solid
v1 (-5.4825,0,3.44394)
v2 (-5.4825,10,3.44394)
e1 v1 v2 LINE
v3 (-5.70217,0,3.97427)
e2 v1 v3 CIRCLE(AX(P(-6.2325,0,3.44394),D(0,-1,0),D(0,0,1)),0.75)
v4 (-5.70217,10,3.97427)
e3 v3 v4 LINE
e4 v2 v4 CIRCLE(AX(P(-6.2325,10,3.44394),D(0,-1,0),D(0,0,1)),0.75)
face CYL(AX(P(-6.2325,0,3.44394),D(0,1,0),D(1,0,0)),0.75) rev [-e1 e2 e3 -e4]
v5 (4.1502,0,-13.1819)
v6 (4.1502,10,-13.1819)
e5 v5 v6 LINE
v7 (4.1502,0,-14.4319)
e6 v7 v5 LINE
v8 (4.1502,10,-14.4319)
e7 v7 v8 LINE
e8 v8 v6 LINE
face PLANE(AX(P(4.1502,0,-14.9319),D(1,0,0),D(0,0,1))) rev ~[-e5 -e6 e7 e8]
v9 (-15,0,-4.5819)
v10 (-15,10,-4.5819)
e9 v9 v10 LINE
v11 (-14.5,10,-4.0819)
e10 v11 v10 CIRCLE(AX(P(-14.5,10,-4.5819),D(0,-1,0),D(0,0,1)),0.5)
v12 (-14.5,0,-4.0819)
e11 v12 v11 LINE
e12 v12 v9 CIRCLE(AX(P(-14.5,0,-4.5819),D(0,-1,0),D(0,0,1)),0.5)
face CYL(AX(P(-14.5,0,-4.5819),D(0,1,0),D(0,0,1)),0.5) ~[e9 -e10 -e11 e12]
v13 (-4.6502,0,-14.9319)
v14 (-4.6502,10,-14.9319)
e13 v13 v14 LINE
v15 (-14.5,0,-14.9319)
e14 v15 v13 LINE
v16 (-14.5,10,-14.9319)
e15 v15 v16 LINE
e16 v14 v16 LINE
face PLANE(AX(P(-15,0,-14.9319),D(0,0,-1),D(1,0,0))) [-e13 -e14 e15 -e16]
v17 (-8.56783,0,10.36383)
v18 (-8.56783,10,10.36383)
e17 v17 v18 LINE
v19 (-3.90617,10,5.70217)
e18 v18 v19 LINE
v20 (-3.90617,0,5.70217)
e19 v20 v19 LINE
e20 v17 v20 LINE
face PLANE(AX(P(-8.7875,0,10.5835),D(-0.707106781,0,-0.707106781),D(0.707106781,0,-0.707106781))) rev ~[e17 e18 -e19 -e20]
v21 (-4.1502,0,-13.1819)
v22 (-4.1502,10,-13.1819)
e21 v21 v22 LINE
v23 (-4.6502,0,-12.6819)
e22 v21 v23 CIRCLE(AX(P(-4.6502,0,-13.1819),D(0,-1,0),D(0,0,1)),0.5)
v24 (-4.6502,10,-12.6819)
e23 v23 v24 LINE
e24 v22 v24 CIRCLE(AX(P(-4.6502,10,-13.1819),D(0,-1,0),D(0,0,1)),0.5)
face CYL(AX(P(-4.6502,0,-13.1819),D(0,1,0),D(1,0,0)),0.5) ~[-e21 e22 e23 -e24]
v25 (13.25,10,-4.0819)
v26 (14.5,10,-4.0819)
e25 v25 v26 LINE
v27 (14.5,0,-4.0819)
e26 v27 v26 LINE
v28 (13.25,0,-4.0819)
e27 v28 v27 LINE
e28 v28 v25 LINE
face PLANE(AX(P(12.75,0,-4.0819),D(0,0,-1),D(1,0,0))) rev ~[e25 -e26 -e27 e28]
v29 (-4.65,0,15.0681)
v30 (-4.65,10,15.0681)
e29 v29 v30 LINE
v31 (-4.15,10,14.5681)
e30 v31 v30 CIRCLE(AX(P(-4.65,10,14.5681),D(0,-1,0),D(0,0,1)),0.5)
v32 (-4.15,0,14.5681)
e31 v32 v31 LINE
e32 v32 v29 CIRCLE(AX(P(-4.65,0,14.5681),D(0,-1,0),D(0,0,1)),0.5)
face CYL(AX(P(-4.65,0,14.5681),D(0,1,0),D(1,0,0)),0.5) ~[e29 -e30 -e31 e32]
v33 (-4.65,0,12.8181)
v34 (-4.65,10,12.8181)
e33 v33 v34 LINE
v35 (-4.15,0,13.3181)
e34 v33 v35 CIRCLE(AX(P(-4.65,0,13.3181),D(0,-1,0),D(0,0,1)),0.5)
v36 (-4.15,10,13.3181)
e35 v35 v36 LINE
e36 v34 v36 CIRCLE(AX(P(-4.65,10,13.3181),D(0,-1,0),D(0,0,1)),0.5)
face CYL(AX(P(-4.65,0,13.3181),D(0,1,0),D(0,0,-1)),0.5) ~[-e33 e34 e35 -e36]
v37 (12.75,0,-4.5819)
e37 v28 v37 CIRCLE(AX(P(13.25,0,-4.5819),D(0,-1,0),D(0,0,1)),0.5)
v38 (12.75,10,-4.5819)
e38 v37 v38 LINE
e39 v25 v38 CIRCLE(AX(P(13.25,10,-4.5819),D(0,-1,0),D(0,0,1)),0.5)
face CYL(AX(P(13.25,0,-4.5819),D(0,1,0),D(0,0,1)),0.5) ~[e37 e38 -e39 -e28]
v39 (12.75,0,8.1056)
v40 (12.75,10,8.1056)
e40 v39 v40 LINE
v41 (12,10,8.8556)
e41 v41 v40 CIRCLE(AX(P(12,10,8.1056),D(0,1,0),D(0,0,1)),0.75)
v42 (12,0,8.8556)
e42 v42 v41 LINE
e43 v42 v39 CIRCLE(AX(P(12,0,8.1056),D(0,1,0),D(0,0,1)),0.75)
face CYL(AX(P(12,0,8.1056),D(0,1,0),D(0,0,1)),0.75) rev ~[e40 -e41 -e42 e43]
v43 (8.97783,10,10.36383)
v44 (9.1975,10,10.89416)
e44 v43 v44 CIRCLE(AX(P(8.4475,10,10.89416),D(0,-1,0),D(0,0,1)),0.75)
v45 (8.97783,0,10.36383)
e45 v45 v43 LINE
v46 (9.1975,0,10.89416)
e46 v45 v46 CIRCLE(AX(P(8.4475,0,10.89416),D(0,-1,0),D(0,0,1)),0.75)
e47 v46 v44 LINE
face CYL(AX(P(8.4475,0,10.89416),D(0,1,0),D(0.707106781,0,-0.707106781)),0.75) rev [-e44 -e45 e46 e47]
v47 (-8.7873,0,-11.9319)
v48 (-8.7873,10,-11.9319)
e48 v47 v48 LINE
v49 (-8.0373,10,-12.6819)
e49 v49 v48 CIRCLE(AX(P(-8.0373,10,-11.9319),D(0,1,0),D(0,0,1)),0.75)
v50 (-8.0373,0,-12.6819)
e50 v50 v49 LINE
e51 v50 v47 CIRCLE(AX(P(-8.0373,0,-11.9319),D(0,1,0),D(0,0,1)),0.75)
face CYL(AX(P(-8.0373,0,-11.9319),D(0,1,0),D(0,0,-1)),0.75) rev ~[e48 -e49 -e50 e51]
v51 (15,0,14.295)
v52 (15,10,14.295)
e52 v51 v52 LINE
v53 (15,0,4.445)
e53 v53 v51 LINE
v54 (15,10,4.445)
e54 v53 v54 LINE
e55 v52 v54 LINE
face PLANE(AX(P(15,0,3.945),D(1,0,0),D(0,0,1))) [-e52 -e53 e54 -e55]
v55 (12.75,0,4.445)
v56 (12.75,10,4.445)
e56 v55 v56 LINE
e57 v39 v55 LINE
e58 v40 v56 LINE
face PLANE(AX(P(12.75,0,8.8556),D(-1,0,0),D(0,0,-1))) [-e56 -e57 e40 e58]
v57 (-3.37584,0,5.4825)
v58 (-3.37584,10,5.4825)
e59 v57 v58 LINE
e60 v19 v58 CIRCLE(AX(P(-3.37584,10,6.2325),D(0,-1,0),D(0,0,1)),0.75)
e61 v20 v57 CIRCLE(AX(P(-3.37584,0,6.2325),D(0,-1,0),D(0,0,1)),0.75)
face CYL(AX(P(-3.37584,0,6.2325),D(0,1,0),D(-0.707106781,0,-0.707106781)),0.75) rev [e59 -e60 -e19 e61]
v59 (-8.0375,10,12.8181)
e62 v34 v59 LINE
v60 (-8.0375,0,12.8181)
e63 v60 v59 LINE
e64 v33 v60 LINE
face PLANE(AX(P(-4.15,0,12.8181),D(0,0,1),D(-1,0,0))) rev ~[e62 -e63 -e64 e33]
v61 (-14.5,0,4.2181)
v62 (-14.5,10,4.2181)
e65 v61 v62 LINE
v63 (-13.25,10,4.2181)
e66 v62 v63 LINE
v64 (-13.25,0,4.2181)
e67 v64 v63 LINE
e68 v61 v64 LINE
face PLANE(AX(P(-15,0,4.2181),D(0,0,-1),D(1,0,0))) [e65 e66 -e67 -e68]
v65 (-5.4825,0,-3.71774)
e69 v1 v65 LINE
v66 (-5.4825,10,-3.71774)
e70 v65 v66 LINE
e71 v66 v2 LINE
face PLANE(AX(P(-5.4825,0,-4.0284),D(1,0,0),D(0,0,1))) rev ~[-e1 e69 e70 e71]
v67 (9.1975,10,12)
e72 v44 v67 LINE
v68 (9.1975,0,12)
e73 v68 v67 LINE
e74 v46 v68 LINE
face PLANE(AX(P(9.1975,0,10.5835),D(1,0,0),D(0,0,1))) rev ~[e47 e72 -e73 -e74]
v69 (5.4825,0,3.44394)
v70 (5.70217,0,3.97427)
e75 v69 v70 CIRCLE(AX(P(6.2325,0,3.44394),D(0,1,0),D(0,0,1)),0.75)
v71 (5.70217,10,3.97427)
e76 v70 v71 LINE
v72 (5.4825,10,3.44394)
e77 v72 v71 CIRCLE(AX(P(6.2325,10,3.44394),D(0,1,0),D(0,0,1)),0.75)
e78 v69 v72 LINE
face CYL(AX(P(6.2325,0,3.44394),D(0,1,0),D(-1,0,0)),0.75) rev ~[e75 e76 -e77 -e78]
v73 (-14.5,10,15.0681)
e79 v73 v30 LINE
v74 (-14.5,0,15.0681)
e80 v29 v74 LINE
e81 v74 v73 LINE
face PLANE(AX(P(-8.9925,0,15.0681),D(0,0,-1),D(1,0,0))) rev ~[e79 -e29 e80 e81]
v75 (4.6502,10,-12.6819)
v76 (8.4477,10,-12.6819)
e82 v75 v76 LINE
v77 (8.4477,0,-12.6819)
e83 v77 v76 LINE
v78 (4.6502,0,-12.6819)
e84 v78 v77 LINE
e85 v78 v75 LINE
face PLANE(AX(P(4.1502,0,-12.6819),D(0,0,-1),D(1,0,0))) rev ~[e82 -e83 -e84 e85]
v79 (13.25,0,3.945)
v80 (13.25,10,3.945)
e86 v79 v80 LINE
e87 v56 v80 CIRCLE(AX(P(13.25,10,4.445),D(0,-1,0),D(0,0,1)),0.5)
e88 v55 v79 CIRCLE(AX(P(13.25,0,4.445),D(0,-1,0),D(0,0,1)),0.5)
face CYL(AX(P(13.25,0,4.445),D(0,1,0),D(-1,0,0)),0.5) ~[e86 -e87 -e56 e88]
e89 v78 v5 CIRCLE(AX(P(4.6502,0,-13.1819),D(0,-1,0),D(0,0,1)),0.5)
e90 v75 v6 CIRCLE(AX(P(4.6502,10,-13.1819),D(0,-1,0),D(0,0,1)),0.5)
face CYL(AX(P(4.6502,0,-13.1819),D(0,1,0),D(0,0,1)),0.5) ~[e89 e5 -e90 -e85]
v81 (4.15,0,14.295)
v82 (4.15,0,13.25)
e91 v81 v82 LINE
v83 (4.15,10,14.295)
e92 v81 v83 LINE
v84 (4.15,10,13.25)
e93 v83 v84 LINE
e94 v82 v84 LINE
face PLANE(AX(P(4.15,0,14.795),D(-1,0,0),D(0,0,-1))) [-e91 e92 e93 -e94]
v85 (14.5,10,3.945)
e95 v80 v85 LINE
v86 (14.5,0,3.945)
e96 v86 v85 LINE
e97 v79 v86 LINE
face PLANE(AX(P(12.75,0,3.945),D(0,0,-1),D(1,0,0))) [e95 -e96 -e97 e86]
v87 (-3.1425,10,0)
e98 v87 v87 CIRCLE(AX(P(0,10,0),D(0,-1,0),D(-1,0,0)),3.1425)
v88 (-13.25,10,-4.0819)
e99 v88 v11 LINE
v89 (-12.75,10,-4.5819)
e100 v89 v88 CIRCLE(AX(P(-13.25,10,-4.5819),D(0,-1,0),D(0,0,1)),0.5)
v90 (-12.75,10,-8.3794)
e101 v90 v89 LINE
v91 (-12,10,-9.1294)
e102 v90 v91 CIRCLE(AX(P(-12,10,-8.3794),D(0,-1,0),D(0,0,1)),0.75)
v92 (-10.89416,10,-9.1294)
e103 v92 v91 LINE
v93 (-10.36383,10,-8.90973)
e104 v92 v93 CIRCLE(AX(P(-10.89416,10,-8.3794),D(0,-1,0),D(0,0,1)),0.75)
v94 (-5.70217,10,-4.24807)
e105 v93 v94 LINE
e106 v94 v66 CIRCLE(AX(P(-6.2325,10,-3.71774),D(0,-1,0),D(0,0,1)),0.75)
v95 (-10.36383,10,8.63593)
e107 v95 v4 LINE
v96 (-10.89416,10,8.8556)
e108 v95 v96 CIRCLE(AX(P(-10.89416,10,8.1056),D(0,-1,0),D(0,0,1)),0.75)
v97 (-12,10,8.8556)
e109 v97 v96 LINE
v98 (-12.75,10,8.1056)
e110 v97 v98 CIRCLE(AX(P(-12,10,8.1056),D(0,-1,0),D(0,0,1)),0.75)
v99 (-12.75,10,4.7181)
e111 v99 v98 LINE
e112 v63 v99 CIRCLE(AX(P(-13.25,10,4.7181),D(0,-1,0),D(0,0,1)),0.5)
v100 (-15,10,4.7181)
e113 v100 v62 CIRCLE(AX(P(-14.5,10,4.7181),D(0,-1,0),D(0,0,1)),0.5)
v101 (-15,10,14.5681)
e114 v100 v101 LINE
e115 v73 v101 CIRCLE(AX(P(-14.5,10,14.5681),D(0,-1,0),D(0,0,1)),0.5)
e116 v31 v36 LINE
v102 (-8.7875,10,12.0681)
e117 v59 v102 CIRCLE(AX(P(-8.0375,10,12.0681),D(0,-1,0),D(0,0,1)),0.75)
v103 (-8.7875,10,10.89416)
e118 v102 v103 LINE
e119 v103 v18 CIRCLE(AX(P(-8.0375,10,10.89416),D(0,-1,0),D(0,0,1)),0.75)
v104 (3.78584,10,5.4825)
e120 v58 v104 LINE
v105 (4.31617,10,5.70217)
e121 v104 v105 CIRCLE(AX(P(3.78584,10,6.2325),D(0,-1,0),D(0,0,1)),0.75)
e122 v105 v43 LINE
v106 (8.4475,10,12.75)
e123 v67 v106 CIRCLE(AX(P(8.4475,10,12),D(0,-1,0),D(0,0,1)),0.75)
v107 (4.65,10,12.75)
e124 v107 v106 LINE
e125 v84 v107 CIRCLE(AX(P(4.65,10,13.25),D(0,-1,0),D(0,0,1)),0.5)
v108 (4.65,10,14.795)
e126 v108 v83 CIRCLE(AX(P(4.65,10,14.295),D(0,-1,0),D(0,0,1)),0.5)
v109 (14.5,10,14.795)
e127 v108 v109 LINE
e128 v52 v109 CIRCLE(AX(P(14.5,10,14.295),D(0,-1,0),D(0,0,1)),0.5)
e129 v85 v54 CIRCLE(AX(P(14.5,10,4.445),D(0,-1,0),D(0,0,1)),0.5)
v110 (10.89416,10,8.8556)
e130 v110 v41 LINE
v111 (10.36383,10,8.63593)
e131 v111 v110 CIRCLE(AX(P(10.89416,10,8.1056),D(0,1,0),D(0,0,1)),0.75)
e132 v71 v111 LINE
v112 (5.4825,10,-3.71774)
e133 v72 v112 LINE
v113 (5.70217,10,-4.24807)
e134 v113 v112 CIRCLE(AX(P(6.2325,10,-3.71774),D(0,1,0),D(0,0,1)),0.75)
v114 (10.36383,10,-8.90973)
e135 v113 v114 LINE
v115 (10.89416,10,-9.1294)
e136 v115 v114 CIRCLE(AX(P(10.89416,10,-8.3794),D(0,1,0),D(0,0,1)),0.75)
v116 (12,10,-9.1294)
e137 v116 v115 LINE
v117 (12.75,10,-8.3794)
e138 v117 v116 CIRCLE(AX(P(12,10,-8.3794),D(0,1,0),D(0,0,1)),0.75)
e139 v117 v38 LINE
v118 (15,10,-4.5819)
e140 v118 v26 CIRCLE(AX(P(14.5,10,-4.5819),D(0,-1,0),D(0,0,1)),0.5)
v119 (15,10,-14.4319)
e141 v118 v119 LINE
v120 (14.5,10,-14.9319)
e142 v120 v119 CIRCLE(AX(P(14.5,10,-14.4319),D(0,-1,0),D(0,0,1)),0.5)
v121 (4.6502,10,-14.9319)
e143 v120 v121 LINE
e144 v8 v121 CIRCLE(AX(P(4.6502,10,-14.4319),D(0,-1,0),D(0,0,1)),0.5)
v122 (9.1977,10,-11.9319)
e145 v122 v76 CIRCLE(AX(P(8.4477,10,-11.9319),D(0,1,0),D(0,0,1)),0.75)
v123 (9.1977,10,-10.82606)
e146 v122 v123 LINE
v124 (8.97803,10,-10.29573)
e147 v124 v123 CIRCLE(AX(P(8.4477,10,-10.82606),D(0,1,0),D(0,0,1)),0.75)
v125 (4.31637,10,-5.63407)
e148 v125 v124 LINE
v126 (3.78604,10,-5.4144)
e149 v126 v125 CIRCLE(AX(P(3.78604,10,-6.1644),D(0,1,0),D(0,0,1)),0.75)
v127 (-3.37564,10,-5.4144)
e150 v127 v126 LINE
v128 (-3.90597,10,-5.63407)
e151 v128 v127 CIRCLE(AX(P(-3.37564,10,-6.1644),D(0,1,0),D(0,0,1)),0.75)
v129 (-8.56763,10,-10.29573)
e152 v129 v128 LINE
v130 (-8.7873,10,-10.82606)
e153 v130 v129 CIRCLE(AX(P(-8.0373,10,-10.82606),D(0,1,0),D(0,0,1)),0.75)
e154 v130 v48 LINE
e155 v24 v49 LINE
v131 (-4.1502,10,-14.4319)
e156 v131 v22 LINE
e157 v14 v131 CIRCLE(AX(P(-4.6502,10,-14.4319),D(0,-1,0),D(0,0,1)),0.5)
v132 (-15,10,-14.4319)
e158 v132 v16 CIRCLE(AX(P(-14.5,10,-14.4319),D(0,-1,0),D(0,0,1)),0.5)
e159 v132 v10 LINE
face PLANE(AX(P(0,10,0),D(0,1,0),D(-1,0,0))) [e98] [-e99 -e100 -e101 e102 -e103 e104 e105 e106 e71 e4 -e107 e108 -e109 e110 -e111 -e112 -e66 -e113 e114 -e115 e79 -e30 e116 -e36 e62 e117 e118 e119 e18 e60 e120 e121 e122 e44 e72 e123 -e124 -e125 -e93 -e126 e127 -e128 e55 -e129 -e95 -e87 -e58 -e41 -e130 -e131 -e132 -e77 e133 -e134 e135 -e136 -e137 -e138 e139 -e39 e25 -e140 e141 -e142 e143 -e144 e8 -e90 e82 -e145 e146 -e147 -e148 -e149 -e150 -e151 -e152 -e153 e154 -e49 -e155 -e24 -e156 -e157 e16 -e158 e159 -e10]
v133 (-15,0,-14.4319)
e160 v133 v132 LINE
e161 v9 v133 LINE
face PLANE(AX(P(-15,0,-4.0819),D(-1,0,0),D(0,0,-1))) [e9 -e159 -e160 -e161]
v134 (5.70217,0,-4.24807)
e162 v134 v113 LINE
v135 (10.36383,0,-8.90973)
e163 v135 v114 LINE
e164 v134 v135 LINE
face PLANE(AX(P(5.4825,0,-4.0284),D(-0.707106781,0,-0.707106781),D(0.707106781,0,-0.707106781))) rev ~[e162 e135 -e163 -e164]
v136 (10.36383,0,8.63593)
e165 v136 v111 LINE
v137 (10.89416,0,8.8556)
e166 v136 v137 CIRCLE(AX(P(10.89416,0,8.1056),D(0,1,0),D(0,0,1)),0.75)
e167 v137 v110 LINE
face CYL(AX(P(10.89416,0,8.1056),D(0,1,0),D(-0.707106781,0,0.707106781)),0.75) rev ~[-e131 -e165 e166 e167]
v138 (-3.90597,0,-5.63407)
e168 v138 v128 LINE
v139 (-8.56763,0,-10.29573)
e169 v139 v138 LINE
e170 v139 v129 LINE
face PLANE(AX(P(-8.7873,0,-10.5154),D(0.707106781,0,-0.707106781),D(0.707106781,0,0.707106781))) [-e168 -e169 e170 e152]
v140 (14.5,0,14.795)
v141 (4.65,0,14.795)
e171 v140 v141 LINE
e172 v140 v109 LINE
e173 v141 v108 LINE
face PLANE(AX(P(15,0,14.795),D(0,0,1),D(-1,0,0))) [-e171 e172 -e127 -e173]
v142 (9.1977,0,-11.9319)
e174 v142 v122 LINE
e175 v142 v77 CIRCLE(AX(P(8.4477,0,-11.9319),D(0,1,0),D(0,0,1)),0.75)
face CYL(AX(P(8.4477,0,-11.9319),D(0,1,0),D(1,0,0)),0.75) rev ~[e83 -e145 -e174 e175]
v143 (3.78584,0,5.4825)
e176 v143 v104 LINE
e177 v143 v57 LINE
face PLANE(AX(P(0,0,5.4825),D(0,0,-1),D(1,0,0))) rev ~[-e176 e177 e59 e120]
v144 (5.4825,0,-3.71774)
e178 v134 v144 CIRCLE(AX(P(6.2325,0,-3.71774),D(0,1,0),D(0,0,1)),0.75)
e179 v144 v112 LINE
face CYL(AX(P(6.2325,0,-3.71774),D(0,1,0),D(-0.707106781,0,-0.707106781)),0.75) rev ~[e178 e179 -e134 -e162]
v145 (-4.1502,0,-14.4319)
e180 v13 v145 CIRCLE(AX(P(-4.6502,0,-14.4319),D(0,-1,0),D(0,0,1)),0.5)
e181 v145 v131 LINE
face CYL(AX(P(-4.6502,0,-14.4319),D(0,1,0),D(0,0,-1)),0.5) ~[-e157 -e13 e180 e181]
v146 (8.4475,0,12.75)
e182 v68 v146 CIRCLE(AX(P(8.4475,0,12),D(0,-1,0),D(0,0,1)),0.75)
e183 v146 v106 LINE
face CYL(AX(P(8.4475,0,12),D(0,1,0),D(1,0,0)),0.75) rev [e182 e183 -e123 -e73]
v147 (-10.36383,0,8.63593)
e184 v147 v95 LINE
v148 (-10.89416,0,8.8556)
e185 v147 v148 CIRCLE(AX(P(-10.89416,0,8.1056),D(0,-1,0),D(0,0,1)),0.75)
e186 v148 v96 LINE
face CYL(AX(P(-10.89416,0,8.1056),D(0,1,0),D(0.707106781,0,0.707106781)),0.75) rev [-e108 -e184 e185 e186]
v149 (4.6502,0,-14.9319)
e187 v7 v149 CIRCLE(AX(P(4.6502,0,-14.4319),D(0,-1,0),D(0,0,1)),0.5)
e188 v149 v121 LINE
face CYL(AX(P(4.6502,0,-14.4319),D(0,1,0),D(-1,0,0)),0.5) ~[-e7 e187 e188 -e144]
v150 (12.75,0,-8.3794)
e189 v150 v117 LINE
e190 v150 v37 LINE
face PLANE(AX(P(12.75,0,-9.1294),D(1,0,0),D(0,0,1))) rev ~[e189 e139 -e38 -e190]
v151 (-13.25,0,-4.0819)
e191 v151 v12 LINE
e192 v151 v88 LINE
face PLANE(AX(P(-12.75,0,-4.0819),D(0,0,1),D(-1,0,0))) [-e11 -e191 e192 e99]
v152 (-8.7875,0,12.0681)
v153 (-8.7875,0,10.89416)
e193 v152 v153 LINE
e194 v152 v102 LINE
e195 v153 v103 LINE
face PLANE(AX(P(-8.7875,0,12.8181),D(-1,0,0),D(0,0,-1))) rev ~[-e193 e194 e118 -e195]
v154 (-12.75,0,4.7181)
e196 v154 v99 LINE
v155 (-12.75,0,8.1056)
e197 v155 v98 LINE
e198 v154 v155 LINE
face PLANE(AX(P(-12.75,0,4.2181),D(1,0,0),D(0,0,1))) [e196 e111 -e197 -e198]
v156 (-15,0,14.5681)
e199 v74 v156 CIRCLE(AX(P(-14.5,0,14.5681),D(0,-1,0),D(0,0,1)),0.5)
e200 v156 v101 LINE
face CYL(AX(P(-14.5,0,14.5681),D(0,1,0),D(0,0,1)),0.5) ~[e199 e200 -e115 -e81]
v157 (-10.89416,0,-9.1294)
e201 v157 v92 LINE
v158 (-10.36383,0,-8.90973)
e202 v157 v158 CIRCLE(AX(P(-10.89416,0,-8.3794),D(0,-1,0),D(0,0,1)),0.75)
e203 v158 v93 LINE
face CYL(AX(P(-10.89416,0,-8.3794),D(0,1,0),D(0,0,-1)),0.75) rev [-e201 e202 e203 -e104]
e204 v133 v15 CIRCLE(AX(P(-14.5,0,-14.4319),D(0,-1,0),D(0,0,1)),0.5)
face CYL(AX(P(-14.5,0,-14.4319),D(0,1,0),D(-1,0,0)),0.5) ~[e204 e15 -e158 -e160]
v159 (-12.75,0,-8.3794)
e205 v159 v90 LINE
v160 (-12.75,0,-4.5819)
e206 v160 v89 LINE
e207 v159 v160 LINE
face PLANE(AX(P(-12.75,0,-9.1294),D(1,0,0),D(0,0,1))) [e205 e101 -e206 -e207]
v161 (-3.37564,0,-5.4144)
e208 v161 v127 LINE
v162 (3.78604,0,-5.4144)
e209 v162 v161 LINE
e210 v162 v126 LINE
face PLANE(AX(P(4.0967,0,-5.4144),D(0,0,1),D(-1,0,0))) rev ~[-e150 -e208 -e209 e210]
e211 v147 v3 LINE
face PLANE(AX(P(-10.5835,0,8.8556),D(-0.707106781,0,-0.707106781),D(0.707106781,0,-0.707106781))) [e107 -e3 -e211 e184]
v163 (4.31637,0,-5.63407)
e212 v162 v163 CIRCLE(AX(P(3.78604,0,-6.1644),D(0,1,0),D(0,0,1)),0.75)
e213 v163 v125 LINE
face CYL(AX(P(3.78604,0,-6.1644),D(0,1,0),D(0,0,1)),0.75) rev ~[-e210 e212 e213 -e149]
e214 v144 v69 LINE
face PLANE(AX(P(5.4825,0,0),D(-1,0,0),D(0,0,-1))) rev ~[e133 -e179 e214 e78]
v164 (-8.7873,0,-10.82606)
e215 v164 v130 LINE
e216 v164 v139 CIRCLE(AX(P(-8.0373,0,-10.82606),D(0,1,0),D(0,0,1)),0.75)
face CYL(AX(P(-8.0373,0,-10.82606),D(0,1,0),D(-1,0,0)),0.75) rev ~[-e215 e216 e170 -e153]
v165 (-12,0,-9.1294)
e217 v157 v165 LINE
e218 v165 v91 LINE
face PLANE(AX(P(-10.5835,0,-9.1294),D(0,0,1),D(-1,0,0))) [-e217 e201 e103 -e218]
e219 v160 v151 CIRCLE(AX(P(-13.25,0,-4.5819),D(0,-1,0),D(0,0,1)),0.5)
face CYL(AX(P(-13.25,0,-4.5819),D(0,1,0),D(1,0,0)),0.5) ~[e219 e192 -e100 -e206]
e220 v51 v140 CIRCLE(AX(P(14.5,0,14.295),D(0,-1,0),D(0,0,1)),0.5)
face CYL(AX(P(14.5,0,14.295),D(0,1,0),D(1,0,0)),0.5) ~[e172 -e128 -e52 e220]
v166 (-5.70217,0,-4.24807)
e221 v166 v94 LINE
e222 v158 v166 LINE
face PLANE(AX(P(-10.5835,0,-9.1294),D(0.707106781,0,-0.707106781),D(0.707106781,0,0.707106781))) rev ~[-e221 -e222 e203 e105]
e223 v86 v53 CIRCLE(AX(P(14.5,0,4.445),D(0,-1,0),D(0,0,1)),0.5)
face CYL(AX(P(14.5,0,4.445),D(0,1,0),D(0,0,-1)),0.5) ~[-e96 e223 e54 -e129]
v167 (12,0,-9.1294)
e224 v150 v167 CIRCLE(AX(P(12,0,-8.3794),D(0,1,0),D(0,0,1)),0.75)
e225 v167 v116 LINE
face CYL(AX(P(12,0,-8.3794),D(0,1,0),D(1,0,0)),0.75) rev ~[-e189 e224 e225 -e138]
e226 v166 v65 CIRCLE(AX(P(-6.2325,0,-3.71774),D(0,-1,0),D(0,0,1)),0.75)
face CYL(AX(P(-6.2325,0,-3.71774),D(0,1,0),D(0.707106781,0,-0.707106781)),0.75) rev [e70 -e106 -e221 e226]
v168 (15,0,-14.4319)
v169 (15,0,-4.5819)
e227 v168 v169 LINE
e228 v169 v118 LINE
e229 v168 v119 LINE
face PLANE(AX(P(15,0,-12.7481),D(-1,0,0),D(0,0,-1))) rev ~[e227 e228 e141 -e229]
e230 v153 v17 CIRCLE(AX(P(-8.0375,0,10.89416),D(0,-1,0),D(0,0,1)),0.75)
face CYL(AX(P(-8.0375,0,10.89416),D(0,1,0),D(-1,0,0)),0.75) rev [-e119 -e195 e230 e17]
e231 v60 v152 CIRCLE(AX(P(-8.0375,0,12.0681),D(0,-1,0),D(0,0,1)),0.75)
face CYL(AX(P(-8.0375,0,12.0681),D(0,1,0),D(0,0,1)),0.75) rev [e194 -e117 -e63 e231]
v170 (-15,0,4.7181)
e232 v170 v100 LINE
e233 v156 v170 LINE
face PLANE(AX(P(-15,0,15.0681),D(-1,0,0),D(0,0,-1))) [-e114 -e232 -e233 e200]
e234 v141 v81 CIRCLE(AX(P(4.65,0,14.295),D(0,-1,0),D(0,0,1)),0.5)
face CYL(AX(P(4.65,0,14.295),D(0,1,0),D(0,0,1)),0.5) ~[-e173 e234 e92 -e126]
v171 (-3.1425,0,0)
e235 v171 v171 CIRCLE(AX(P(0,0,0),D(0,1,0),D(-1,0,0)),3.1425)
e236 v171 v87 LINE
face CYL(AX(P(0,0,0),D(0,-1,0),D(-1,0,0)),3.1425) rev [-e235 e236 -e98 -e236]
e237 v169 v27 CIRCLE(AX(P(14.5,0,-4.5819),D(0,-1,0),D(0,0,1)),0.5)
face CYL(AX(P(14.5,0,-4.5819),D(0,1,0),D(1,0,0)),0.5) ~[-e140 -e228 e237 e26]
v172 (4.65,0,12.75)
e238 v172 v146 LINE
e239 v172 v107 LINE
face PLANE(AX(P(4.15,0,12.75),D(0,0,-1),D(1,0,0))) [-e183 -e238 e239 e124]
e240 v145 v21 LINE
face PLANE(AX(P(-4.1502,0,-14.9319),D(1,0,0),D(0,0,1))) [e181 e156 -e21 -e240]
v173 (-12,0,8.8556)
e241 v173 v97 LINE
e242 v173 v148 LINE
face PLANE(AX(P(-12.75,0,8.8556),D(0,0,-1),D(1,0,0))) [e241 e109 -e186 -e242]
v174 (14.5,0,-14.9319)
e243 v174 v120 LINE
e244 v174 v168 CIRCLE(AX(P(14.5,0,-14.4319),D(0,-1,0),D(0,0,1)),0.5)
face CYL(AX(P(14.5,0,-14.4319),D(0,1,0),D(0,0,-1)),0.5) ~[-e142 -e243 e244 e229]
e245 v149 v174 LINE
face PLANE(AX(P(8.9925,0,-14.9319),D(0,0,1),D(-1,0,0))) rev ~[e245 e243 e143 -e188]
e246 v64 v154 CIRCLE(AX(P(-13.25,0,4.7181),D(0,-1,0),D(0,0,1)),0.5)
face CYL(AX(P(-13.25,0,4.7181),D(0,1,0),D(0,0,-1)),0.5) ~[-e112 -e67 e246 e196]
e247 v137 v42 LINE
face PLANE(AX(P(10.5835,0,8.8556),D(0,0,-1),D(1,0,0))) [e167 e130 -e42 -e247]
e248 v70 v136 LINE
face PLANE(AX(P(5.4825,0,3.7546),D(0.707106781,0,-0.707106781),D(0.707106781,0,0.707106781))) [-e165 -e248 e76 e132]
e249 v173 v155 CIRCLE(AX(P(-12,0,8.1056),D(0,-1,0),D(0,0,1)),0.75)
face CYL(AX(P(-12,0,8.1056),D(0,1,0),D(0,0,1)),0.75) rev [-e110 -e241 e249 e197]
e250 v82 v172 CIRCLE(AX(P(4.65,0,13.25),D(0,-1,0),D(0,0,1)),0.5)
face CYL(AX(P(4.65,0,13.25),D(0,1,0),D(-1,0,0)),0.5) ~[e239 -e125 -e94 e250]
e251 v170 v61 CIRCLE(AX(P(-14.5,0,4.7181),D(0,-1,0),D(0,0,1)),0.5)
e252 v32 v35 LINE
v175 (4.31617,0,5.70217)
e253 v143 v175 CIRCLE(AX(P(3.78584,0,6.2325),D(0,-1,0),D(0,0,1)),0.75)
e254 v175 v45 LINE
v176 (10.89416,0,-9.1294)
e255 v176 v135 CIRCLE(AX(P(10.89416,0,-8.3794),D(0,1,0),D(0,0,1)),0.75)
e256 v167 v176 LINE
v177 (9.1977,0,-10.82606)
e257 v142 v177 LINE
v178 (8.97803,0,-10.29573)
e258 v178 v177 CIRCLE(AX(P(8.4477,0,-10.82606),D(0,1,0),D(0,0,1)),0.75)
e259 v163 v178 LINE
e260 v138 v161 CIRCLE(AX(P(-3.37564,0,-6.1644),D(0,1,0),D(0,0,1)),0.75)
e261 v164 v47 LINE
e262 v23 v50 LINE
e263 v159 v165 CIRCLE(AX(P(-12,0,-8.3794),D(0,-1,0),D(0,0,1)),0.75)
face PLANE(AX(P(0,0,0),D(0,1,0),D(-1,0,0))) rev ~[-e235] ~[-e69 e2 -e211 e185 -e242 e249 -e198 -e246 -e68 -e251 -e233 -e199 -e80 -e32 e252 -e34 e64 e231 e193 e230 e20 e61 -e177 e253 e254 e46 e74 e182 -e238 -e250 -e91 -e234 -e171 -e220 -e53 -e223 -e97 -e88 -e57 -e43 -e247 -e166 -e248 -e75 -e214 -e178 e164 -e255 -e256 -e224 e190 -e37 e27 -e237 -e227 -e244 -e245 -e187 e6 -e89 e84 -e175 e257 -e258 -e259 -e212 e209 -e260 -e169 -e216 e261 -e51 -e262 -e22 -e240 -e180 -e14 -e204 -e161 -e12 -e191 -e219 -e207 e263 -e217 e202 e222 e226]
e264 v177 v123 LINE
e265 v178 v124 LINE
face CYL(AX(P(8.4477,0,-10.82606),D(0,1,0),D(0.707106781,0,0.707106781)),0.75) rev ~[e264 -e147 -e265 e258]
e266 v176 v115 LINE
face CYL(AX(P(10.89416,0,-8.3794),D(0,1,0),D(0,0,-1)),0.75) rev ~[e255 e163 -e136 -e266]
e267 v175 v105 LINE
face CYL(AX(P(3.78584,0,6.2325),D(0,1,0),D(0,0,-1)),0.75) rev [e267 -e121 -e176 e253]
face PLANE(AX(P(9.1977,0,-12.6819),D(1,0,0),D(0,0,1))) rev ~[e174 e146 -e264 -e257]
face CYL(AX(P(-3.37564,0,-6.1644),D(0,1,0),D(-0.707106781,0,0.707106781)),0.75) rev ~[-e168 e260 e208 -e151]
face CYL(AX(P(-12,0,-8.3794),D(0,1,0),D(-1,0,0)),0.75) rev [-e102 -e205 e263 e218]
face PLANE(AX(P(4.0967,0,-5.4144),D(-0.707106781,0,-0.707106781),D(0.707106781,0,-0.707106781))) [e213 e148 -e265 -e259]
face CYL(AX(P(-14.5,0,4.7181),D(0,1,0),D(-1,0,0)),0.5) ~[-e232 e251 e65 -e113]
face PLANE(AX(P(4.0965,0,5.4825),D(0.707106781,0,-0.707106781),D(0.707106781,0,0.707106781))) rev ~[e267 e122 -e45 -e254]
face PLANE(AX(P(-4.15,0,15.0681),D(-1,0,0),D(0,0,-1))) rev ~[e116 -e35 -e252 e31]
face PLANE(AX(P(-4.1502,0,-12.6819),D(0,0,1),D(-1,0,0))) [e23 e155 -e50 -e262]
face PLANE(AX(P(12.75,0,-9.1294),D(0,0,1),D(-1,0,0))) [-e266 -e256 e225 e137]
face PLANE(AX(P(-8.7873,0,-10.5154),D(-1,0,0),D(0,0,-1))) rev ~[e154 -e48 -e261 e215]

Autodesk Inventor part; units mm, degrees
ref_plane "YZ Plane" through (0, 0, 0) normal (1, 0, 0) x (0, 1, 0)
ref_plane "XZ Plane" through (0, 0, 0) normal (0, 1, 0) x (-1, 0, 0)
ref_plane "XY Plane" through (0, 0, 0) normal (0, 0, 1) x (1, 0, 0)
sketch "Sketch1" plane through (0, 0, 0) normal (0, 1, 0) x (-1, 0, 0)
  line L0 (0, -21.0136) -> (0, 21.0817) projected
  line L1 (-21, 0) -> (21, 0) projected
  line L2 (21, 0) -> (-21, 0) projected
  line L3 (0, -21.0136) -> (0, 21.0817) projected
  line L4 (3.6865, 5.4825) -> (-4.0965, 5.4825)
  line L5 (-5.4825, 3.7546) -> (-5.4825, -4.0284)
  line L6 (-4.0967, -5.4144) -> (3.6863, -5.4144)
  line L7 (5.4825, -4.0284) -> (5.4825, 3.7546)
  line L8 (-5.4825, 5.4825) -> (5.4825, -5.4825) construction
  line L9 (15, 15.0681) -> (15, 4.2181)
  line L10 (15, 4.2181) -> (12.75, 4.2181)
  line L11 (15, 15.0681) -> (4.15, 15.0681)
  line L12 (4.15, 15.0681) -> (4.15, 12.8181)
  line L13 (-15, 14.795) -> (-4.15, 14.795)
  line L14 (-4.15, 14.795) -> (-4.15, 12.75)
  line L15 (-15, 12.75) -> (-15, 14.795)
  line L16 (-15, 14.795) -> (-12.75, 14.795)
  line L17 (-12.75, 3.945) -> (-15, 3.945)
  line L18 (-15, 3.945) -> (-15, 14.795)
  line L19 (-15, -14.9319) -> (-12.75, -14.9319)
  line L20 (-12.75, -4.0819) -> (-15, -4.0819)
  line L21 (-15, -4.0819) -> (-15, -14.9319)
  line L22 (-15, -14.9319) -> (-4.1502, -14.9319)
  line L23 (-4.1502, -14.9319) -> (-4.1502, -12.6819)
  line L24 (-15, -12.7481) -> (-15, -14.9319)
  line L25 (15, -14.9319) -> (12.75, -14.9319)
  line L26 (12.75, -4.0819) -> (15, -4.0819)
  line L27 (15, -4.0819) -> (15, -14.9319)
  line L28 (15, -14.9319) -> (4.1502, -14.9319)
  line L29 (4.1502, -14.9319) -> (4.1502, -12.6819)
  line L30 (15, -12.7481) -> (15, -14.9319)
  circle A0 centre (0, 0) radius 3.1425
  line L31 (8.9925, -14.9319) -> (4.1502, -14.9319)
  line L32 (-4.1502, -14.9319) -> (-8.9925, -14.9319)
  line L33 (15, -14.9319) -> (4.1502, -14.9319)
  line L34 (-4.1502, -14.9319) -> (-15, -14.9319)
  line L35 (15, -8.9925) -> (15, -4.0819)
  line L36 (15, 4.2181) -> (15, 9.0606)
  line L37 (15, 15.0681) -> (15, 4.2181)
  line L38 (15, -4.0819) -> (15, -14.9319)
  line L39 (-8.9925, 14.795) -> (-4.15, 14.795)
  line L40 (4.15, 15.0681) -> (8.9925, 15.0681)
  line L41 (-15, 14.795) -> (-4.15, 14.795)
  line L42 (4.15, 15.0681) -> (15, 15.0681)
  line L43 (-15, 8.9925) -> (-15, 3.945)
  line L44 (-15, -4.0819) -> (-15, -8.9925)
  line L45 (-15, -14.9319) -> (-15, -4.0819)
  line L46 (-15, 3.945) -> (-15, 14.795)
  line L47 (-4.1502, -12.6819) -> (-9.1977, -12.6819)
  line L48 (-12.75, -9.1294) -> (-12.75, -4.0819)
  line L49 (-12.75, -9.1294) -> (-10.5835, -9.1294)
  line L50 (-9.1977, -12.6819) -> (-9.1977, -10.5154)
  line L51 (-9.1975, 10.5835) -> (-9.1975, 12.75)
  line L52 (4.15, 12.8181) -> (8.7875, 12.8181)
  line L53 (12.75, 4.2181) -> (12.75, 8.8556)
  line L54 (12.75, 8.8556) -> (10.5835, 8.8556)
  line L55 (8.7875, 12.8181) -> (8.7875, 10.5835)
  line L56 (4.1502, -12.6819) -> (8.7873, -12.6819)
  line L57 (14.341, -12.7481) -> (15, -12.7481)
  line L58 (12.75, -14.9319) -> (12.75, -14.2729)
  line L59 (12.75, -9.1294) -> (12.75, -4.0819)
  line L60 (10.5835, -9.1294) -> (12.75, -9.1294)
  line L61 (8.7873, -10.5154) -> (8.7873, -12.6819)
  line L62 (5.4825, 5.4825) -> (-0.7955, -0.7955) construction
  line L63 (-2.2221, -2.2221) -> (-5.4825, -5.4825) construction
  line L64 (-12.75, 14.795) -> (-12.75, 14.136)
  line L65 (-12.75, 8.8556) -> (-12.75, 3.945)
  line L66 (-4.15, 12.75) -> (-9.1975, 12.75)
  line L67 (-14.341, 12.75) -> (-15, 12.75)
  line L68 (-10.5835, 8.8556) -> (-12.75, 8.8556)
  line L69 (-5.4825, 3.7546) -> (-10.5835, 8.8556)
  line L70 (-4.0965, 5.4825) -> (-9.1975, 10.5835)
  line L71 (8.7875, 10.5835) -> (3.6865, 5.4825)
  line L72 (10.5835, 8.8556) -> (5.4825, 3.7546)
  line L73 (10.5835, -9.1294) -> (5.4825, -4.0284)
  line L74 (8.7873, -10.5154) -> (3.6863, -5.4144)
  line L75 (-4.0967, -5.4144) -> (-9.1977, -10.5154)
  line L76 (-5.4825, -4.0284) -> (-10.5835, -9.1294)
  line L77 (15, 15) -> (-15, -15) construction
  line L78 (-15, 15) -> (15, -15) construction
  point P0 (-15, 0)
  dimension "d26" = 6.285
  dimension "d0" = 30
  dimension "d1" = 30
  dimension "d2" = 10.965
  dimension "d3" = 10.965
  dimension "d4" = 30
  dimension "d5" = 17.985
  dimension "d6" = 17.985
  dimension "d11" = 10.85
  dimension "d12" = 2.25
  dimension "d13" = 10.85
  dimension "d14" = 2.25
  dimension "d15" = 10.85
  dimension "d16" = 2.25
  dimension "d17" = 10.85
  dimension "d18" = 2.25
  dimension "d19" = 10.85
  dimension "d20" = 10.85
  dimension "d21" = 2.25
  dimension "d22" = 2.25
  dimension "d23" = 10.85
  dimension "d24" = 10.85
  dimension "d25" = 2.25
  dimension "d31" = 30
  dimension "d32" = 30
extrude "Extrusion1" add sketch "Sketch1" along normal blind 10 contours L6 L75 L50 L47 L23 L22 L19 L21 L20 L48 L49 L76 L5 L1 A0 L0 | L0 A0 L1 L7 L73 L60 L59 L26 L27 L25 L28 L29 L56 L61 L74 L6 | L1 L5 L69 L68 L65 L17 L18 L15 L13 L14 L66 L51 L70 L4 L0 A0 | A0 L0 L4 L71 L55 L52 L12 L11 L9 L10 L53 L54 L72 L7 L1
fillet "Fillet1" radius 0.5 20 edges at (15, 5, 14.795) (4.15, 5, 14.795) (-4.15, 5, 15.0681) (-4.15, 5, 12.8181) (15, 5, 3.945) (12.75, 5, 3.945) (15, 5, -4.0819) (12.75, 5, -4.0819) (15, 5, -14.9319) (4.1502, 5, -12.6819) (-4.1502, 5, -14.9319) (-4.1502, 5, -12.6819) (4.1502, 5, -14.9319) (-15, 5, -14.9319) (-12.75, 5, -4.0819) (-15, 5, -4.0819) (-12.75, 5, 4.2181) (-15, 5, 4.2181) (-15, 5, 15.0681) (4.15, 5, 12.75)
fillet "Fillet2" radius 0.75 24 edges at (-10.5835, 5, 8.8556) (-5.4825, 5, 3.7546) (-12.75, 5, -9.1294) (-10.5835, 5, -9.1294) (-8.7873, 5, -12.6819) (5.4825, 5, -4.0284) (10.5835, 5, -9.1294) (-3.6865, 5, 5.4825) (-8.7875, 5, 10.5835) (5.4825, 5, 3.7546) (10.5835, 5, 8.8556) (12.75, 5, 8.8556) (12.75, 5, -9.1294) (4.0965, 5, 5.4825) (9.1975, 5, 10.5835) (9.1975, 5, 12.75) (-8.7875, 5, 12.8181) (-12.75, 5, 8.8556) (4.0967, 5, -5.4144) (9.1977, 5, -10.5154) (9.1977, 5, -12.6819) (-8.7873, 5, -10.5154) (-3.6863, 5, -5.4144) (-5.4825, 5, -4.0284)
properties part number "Profile_iPart"
